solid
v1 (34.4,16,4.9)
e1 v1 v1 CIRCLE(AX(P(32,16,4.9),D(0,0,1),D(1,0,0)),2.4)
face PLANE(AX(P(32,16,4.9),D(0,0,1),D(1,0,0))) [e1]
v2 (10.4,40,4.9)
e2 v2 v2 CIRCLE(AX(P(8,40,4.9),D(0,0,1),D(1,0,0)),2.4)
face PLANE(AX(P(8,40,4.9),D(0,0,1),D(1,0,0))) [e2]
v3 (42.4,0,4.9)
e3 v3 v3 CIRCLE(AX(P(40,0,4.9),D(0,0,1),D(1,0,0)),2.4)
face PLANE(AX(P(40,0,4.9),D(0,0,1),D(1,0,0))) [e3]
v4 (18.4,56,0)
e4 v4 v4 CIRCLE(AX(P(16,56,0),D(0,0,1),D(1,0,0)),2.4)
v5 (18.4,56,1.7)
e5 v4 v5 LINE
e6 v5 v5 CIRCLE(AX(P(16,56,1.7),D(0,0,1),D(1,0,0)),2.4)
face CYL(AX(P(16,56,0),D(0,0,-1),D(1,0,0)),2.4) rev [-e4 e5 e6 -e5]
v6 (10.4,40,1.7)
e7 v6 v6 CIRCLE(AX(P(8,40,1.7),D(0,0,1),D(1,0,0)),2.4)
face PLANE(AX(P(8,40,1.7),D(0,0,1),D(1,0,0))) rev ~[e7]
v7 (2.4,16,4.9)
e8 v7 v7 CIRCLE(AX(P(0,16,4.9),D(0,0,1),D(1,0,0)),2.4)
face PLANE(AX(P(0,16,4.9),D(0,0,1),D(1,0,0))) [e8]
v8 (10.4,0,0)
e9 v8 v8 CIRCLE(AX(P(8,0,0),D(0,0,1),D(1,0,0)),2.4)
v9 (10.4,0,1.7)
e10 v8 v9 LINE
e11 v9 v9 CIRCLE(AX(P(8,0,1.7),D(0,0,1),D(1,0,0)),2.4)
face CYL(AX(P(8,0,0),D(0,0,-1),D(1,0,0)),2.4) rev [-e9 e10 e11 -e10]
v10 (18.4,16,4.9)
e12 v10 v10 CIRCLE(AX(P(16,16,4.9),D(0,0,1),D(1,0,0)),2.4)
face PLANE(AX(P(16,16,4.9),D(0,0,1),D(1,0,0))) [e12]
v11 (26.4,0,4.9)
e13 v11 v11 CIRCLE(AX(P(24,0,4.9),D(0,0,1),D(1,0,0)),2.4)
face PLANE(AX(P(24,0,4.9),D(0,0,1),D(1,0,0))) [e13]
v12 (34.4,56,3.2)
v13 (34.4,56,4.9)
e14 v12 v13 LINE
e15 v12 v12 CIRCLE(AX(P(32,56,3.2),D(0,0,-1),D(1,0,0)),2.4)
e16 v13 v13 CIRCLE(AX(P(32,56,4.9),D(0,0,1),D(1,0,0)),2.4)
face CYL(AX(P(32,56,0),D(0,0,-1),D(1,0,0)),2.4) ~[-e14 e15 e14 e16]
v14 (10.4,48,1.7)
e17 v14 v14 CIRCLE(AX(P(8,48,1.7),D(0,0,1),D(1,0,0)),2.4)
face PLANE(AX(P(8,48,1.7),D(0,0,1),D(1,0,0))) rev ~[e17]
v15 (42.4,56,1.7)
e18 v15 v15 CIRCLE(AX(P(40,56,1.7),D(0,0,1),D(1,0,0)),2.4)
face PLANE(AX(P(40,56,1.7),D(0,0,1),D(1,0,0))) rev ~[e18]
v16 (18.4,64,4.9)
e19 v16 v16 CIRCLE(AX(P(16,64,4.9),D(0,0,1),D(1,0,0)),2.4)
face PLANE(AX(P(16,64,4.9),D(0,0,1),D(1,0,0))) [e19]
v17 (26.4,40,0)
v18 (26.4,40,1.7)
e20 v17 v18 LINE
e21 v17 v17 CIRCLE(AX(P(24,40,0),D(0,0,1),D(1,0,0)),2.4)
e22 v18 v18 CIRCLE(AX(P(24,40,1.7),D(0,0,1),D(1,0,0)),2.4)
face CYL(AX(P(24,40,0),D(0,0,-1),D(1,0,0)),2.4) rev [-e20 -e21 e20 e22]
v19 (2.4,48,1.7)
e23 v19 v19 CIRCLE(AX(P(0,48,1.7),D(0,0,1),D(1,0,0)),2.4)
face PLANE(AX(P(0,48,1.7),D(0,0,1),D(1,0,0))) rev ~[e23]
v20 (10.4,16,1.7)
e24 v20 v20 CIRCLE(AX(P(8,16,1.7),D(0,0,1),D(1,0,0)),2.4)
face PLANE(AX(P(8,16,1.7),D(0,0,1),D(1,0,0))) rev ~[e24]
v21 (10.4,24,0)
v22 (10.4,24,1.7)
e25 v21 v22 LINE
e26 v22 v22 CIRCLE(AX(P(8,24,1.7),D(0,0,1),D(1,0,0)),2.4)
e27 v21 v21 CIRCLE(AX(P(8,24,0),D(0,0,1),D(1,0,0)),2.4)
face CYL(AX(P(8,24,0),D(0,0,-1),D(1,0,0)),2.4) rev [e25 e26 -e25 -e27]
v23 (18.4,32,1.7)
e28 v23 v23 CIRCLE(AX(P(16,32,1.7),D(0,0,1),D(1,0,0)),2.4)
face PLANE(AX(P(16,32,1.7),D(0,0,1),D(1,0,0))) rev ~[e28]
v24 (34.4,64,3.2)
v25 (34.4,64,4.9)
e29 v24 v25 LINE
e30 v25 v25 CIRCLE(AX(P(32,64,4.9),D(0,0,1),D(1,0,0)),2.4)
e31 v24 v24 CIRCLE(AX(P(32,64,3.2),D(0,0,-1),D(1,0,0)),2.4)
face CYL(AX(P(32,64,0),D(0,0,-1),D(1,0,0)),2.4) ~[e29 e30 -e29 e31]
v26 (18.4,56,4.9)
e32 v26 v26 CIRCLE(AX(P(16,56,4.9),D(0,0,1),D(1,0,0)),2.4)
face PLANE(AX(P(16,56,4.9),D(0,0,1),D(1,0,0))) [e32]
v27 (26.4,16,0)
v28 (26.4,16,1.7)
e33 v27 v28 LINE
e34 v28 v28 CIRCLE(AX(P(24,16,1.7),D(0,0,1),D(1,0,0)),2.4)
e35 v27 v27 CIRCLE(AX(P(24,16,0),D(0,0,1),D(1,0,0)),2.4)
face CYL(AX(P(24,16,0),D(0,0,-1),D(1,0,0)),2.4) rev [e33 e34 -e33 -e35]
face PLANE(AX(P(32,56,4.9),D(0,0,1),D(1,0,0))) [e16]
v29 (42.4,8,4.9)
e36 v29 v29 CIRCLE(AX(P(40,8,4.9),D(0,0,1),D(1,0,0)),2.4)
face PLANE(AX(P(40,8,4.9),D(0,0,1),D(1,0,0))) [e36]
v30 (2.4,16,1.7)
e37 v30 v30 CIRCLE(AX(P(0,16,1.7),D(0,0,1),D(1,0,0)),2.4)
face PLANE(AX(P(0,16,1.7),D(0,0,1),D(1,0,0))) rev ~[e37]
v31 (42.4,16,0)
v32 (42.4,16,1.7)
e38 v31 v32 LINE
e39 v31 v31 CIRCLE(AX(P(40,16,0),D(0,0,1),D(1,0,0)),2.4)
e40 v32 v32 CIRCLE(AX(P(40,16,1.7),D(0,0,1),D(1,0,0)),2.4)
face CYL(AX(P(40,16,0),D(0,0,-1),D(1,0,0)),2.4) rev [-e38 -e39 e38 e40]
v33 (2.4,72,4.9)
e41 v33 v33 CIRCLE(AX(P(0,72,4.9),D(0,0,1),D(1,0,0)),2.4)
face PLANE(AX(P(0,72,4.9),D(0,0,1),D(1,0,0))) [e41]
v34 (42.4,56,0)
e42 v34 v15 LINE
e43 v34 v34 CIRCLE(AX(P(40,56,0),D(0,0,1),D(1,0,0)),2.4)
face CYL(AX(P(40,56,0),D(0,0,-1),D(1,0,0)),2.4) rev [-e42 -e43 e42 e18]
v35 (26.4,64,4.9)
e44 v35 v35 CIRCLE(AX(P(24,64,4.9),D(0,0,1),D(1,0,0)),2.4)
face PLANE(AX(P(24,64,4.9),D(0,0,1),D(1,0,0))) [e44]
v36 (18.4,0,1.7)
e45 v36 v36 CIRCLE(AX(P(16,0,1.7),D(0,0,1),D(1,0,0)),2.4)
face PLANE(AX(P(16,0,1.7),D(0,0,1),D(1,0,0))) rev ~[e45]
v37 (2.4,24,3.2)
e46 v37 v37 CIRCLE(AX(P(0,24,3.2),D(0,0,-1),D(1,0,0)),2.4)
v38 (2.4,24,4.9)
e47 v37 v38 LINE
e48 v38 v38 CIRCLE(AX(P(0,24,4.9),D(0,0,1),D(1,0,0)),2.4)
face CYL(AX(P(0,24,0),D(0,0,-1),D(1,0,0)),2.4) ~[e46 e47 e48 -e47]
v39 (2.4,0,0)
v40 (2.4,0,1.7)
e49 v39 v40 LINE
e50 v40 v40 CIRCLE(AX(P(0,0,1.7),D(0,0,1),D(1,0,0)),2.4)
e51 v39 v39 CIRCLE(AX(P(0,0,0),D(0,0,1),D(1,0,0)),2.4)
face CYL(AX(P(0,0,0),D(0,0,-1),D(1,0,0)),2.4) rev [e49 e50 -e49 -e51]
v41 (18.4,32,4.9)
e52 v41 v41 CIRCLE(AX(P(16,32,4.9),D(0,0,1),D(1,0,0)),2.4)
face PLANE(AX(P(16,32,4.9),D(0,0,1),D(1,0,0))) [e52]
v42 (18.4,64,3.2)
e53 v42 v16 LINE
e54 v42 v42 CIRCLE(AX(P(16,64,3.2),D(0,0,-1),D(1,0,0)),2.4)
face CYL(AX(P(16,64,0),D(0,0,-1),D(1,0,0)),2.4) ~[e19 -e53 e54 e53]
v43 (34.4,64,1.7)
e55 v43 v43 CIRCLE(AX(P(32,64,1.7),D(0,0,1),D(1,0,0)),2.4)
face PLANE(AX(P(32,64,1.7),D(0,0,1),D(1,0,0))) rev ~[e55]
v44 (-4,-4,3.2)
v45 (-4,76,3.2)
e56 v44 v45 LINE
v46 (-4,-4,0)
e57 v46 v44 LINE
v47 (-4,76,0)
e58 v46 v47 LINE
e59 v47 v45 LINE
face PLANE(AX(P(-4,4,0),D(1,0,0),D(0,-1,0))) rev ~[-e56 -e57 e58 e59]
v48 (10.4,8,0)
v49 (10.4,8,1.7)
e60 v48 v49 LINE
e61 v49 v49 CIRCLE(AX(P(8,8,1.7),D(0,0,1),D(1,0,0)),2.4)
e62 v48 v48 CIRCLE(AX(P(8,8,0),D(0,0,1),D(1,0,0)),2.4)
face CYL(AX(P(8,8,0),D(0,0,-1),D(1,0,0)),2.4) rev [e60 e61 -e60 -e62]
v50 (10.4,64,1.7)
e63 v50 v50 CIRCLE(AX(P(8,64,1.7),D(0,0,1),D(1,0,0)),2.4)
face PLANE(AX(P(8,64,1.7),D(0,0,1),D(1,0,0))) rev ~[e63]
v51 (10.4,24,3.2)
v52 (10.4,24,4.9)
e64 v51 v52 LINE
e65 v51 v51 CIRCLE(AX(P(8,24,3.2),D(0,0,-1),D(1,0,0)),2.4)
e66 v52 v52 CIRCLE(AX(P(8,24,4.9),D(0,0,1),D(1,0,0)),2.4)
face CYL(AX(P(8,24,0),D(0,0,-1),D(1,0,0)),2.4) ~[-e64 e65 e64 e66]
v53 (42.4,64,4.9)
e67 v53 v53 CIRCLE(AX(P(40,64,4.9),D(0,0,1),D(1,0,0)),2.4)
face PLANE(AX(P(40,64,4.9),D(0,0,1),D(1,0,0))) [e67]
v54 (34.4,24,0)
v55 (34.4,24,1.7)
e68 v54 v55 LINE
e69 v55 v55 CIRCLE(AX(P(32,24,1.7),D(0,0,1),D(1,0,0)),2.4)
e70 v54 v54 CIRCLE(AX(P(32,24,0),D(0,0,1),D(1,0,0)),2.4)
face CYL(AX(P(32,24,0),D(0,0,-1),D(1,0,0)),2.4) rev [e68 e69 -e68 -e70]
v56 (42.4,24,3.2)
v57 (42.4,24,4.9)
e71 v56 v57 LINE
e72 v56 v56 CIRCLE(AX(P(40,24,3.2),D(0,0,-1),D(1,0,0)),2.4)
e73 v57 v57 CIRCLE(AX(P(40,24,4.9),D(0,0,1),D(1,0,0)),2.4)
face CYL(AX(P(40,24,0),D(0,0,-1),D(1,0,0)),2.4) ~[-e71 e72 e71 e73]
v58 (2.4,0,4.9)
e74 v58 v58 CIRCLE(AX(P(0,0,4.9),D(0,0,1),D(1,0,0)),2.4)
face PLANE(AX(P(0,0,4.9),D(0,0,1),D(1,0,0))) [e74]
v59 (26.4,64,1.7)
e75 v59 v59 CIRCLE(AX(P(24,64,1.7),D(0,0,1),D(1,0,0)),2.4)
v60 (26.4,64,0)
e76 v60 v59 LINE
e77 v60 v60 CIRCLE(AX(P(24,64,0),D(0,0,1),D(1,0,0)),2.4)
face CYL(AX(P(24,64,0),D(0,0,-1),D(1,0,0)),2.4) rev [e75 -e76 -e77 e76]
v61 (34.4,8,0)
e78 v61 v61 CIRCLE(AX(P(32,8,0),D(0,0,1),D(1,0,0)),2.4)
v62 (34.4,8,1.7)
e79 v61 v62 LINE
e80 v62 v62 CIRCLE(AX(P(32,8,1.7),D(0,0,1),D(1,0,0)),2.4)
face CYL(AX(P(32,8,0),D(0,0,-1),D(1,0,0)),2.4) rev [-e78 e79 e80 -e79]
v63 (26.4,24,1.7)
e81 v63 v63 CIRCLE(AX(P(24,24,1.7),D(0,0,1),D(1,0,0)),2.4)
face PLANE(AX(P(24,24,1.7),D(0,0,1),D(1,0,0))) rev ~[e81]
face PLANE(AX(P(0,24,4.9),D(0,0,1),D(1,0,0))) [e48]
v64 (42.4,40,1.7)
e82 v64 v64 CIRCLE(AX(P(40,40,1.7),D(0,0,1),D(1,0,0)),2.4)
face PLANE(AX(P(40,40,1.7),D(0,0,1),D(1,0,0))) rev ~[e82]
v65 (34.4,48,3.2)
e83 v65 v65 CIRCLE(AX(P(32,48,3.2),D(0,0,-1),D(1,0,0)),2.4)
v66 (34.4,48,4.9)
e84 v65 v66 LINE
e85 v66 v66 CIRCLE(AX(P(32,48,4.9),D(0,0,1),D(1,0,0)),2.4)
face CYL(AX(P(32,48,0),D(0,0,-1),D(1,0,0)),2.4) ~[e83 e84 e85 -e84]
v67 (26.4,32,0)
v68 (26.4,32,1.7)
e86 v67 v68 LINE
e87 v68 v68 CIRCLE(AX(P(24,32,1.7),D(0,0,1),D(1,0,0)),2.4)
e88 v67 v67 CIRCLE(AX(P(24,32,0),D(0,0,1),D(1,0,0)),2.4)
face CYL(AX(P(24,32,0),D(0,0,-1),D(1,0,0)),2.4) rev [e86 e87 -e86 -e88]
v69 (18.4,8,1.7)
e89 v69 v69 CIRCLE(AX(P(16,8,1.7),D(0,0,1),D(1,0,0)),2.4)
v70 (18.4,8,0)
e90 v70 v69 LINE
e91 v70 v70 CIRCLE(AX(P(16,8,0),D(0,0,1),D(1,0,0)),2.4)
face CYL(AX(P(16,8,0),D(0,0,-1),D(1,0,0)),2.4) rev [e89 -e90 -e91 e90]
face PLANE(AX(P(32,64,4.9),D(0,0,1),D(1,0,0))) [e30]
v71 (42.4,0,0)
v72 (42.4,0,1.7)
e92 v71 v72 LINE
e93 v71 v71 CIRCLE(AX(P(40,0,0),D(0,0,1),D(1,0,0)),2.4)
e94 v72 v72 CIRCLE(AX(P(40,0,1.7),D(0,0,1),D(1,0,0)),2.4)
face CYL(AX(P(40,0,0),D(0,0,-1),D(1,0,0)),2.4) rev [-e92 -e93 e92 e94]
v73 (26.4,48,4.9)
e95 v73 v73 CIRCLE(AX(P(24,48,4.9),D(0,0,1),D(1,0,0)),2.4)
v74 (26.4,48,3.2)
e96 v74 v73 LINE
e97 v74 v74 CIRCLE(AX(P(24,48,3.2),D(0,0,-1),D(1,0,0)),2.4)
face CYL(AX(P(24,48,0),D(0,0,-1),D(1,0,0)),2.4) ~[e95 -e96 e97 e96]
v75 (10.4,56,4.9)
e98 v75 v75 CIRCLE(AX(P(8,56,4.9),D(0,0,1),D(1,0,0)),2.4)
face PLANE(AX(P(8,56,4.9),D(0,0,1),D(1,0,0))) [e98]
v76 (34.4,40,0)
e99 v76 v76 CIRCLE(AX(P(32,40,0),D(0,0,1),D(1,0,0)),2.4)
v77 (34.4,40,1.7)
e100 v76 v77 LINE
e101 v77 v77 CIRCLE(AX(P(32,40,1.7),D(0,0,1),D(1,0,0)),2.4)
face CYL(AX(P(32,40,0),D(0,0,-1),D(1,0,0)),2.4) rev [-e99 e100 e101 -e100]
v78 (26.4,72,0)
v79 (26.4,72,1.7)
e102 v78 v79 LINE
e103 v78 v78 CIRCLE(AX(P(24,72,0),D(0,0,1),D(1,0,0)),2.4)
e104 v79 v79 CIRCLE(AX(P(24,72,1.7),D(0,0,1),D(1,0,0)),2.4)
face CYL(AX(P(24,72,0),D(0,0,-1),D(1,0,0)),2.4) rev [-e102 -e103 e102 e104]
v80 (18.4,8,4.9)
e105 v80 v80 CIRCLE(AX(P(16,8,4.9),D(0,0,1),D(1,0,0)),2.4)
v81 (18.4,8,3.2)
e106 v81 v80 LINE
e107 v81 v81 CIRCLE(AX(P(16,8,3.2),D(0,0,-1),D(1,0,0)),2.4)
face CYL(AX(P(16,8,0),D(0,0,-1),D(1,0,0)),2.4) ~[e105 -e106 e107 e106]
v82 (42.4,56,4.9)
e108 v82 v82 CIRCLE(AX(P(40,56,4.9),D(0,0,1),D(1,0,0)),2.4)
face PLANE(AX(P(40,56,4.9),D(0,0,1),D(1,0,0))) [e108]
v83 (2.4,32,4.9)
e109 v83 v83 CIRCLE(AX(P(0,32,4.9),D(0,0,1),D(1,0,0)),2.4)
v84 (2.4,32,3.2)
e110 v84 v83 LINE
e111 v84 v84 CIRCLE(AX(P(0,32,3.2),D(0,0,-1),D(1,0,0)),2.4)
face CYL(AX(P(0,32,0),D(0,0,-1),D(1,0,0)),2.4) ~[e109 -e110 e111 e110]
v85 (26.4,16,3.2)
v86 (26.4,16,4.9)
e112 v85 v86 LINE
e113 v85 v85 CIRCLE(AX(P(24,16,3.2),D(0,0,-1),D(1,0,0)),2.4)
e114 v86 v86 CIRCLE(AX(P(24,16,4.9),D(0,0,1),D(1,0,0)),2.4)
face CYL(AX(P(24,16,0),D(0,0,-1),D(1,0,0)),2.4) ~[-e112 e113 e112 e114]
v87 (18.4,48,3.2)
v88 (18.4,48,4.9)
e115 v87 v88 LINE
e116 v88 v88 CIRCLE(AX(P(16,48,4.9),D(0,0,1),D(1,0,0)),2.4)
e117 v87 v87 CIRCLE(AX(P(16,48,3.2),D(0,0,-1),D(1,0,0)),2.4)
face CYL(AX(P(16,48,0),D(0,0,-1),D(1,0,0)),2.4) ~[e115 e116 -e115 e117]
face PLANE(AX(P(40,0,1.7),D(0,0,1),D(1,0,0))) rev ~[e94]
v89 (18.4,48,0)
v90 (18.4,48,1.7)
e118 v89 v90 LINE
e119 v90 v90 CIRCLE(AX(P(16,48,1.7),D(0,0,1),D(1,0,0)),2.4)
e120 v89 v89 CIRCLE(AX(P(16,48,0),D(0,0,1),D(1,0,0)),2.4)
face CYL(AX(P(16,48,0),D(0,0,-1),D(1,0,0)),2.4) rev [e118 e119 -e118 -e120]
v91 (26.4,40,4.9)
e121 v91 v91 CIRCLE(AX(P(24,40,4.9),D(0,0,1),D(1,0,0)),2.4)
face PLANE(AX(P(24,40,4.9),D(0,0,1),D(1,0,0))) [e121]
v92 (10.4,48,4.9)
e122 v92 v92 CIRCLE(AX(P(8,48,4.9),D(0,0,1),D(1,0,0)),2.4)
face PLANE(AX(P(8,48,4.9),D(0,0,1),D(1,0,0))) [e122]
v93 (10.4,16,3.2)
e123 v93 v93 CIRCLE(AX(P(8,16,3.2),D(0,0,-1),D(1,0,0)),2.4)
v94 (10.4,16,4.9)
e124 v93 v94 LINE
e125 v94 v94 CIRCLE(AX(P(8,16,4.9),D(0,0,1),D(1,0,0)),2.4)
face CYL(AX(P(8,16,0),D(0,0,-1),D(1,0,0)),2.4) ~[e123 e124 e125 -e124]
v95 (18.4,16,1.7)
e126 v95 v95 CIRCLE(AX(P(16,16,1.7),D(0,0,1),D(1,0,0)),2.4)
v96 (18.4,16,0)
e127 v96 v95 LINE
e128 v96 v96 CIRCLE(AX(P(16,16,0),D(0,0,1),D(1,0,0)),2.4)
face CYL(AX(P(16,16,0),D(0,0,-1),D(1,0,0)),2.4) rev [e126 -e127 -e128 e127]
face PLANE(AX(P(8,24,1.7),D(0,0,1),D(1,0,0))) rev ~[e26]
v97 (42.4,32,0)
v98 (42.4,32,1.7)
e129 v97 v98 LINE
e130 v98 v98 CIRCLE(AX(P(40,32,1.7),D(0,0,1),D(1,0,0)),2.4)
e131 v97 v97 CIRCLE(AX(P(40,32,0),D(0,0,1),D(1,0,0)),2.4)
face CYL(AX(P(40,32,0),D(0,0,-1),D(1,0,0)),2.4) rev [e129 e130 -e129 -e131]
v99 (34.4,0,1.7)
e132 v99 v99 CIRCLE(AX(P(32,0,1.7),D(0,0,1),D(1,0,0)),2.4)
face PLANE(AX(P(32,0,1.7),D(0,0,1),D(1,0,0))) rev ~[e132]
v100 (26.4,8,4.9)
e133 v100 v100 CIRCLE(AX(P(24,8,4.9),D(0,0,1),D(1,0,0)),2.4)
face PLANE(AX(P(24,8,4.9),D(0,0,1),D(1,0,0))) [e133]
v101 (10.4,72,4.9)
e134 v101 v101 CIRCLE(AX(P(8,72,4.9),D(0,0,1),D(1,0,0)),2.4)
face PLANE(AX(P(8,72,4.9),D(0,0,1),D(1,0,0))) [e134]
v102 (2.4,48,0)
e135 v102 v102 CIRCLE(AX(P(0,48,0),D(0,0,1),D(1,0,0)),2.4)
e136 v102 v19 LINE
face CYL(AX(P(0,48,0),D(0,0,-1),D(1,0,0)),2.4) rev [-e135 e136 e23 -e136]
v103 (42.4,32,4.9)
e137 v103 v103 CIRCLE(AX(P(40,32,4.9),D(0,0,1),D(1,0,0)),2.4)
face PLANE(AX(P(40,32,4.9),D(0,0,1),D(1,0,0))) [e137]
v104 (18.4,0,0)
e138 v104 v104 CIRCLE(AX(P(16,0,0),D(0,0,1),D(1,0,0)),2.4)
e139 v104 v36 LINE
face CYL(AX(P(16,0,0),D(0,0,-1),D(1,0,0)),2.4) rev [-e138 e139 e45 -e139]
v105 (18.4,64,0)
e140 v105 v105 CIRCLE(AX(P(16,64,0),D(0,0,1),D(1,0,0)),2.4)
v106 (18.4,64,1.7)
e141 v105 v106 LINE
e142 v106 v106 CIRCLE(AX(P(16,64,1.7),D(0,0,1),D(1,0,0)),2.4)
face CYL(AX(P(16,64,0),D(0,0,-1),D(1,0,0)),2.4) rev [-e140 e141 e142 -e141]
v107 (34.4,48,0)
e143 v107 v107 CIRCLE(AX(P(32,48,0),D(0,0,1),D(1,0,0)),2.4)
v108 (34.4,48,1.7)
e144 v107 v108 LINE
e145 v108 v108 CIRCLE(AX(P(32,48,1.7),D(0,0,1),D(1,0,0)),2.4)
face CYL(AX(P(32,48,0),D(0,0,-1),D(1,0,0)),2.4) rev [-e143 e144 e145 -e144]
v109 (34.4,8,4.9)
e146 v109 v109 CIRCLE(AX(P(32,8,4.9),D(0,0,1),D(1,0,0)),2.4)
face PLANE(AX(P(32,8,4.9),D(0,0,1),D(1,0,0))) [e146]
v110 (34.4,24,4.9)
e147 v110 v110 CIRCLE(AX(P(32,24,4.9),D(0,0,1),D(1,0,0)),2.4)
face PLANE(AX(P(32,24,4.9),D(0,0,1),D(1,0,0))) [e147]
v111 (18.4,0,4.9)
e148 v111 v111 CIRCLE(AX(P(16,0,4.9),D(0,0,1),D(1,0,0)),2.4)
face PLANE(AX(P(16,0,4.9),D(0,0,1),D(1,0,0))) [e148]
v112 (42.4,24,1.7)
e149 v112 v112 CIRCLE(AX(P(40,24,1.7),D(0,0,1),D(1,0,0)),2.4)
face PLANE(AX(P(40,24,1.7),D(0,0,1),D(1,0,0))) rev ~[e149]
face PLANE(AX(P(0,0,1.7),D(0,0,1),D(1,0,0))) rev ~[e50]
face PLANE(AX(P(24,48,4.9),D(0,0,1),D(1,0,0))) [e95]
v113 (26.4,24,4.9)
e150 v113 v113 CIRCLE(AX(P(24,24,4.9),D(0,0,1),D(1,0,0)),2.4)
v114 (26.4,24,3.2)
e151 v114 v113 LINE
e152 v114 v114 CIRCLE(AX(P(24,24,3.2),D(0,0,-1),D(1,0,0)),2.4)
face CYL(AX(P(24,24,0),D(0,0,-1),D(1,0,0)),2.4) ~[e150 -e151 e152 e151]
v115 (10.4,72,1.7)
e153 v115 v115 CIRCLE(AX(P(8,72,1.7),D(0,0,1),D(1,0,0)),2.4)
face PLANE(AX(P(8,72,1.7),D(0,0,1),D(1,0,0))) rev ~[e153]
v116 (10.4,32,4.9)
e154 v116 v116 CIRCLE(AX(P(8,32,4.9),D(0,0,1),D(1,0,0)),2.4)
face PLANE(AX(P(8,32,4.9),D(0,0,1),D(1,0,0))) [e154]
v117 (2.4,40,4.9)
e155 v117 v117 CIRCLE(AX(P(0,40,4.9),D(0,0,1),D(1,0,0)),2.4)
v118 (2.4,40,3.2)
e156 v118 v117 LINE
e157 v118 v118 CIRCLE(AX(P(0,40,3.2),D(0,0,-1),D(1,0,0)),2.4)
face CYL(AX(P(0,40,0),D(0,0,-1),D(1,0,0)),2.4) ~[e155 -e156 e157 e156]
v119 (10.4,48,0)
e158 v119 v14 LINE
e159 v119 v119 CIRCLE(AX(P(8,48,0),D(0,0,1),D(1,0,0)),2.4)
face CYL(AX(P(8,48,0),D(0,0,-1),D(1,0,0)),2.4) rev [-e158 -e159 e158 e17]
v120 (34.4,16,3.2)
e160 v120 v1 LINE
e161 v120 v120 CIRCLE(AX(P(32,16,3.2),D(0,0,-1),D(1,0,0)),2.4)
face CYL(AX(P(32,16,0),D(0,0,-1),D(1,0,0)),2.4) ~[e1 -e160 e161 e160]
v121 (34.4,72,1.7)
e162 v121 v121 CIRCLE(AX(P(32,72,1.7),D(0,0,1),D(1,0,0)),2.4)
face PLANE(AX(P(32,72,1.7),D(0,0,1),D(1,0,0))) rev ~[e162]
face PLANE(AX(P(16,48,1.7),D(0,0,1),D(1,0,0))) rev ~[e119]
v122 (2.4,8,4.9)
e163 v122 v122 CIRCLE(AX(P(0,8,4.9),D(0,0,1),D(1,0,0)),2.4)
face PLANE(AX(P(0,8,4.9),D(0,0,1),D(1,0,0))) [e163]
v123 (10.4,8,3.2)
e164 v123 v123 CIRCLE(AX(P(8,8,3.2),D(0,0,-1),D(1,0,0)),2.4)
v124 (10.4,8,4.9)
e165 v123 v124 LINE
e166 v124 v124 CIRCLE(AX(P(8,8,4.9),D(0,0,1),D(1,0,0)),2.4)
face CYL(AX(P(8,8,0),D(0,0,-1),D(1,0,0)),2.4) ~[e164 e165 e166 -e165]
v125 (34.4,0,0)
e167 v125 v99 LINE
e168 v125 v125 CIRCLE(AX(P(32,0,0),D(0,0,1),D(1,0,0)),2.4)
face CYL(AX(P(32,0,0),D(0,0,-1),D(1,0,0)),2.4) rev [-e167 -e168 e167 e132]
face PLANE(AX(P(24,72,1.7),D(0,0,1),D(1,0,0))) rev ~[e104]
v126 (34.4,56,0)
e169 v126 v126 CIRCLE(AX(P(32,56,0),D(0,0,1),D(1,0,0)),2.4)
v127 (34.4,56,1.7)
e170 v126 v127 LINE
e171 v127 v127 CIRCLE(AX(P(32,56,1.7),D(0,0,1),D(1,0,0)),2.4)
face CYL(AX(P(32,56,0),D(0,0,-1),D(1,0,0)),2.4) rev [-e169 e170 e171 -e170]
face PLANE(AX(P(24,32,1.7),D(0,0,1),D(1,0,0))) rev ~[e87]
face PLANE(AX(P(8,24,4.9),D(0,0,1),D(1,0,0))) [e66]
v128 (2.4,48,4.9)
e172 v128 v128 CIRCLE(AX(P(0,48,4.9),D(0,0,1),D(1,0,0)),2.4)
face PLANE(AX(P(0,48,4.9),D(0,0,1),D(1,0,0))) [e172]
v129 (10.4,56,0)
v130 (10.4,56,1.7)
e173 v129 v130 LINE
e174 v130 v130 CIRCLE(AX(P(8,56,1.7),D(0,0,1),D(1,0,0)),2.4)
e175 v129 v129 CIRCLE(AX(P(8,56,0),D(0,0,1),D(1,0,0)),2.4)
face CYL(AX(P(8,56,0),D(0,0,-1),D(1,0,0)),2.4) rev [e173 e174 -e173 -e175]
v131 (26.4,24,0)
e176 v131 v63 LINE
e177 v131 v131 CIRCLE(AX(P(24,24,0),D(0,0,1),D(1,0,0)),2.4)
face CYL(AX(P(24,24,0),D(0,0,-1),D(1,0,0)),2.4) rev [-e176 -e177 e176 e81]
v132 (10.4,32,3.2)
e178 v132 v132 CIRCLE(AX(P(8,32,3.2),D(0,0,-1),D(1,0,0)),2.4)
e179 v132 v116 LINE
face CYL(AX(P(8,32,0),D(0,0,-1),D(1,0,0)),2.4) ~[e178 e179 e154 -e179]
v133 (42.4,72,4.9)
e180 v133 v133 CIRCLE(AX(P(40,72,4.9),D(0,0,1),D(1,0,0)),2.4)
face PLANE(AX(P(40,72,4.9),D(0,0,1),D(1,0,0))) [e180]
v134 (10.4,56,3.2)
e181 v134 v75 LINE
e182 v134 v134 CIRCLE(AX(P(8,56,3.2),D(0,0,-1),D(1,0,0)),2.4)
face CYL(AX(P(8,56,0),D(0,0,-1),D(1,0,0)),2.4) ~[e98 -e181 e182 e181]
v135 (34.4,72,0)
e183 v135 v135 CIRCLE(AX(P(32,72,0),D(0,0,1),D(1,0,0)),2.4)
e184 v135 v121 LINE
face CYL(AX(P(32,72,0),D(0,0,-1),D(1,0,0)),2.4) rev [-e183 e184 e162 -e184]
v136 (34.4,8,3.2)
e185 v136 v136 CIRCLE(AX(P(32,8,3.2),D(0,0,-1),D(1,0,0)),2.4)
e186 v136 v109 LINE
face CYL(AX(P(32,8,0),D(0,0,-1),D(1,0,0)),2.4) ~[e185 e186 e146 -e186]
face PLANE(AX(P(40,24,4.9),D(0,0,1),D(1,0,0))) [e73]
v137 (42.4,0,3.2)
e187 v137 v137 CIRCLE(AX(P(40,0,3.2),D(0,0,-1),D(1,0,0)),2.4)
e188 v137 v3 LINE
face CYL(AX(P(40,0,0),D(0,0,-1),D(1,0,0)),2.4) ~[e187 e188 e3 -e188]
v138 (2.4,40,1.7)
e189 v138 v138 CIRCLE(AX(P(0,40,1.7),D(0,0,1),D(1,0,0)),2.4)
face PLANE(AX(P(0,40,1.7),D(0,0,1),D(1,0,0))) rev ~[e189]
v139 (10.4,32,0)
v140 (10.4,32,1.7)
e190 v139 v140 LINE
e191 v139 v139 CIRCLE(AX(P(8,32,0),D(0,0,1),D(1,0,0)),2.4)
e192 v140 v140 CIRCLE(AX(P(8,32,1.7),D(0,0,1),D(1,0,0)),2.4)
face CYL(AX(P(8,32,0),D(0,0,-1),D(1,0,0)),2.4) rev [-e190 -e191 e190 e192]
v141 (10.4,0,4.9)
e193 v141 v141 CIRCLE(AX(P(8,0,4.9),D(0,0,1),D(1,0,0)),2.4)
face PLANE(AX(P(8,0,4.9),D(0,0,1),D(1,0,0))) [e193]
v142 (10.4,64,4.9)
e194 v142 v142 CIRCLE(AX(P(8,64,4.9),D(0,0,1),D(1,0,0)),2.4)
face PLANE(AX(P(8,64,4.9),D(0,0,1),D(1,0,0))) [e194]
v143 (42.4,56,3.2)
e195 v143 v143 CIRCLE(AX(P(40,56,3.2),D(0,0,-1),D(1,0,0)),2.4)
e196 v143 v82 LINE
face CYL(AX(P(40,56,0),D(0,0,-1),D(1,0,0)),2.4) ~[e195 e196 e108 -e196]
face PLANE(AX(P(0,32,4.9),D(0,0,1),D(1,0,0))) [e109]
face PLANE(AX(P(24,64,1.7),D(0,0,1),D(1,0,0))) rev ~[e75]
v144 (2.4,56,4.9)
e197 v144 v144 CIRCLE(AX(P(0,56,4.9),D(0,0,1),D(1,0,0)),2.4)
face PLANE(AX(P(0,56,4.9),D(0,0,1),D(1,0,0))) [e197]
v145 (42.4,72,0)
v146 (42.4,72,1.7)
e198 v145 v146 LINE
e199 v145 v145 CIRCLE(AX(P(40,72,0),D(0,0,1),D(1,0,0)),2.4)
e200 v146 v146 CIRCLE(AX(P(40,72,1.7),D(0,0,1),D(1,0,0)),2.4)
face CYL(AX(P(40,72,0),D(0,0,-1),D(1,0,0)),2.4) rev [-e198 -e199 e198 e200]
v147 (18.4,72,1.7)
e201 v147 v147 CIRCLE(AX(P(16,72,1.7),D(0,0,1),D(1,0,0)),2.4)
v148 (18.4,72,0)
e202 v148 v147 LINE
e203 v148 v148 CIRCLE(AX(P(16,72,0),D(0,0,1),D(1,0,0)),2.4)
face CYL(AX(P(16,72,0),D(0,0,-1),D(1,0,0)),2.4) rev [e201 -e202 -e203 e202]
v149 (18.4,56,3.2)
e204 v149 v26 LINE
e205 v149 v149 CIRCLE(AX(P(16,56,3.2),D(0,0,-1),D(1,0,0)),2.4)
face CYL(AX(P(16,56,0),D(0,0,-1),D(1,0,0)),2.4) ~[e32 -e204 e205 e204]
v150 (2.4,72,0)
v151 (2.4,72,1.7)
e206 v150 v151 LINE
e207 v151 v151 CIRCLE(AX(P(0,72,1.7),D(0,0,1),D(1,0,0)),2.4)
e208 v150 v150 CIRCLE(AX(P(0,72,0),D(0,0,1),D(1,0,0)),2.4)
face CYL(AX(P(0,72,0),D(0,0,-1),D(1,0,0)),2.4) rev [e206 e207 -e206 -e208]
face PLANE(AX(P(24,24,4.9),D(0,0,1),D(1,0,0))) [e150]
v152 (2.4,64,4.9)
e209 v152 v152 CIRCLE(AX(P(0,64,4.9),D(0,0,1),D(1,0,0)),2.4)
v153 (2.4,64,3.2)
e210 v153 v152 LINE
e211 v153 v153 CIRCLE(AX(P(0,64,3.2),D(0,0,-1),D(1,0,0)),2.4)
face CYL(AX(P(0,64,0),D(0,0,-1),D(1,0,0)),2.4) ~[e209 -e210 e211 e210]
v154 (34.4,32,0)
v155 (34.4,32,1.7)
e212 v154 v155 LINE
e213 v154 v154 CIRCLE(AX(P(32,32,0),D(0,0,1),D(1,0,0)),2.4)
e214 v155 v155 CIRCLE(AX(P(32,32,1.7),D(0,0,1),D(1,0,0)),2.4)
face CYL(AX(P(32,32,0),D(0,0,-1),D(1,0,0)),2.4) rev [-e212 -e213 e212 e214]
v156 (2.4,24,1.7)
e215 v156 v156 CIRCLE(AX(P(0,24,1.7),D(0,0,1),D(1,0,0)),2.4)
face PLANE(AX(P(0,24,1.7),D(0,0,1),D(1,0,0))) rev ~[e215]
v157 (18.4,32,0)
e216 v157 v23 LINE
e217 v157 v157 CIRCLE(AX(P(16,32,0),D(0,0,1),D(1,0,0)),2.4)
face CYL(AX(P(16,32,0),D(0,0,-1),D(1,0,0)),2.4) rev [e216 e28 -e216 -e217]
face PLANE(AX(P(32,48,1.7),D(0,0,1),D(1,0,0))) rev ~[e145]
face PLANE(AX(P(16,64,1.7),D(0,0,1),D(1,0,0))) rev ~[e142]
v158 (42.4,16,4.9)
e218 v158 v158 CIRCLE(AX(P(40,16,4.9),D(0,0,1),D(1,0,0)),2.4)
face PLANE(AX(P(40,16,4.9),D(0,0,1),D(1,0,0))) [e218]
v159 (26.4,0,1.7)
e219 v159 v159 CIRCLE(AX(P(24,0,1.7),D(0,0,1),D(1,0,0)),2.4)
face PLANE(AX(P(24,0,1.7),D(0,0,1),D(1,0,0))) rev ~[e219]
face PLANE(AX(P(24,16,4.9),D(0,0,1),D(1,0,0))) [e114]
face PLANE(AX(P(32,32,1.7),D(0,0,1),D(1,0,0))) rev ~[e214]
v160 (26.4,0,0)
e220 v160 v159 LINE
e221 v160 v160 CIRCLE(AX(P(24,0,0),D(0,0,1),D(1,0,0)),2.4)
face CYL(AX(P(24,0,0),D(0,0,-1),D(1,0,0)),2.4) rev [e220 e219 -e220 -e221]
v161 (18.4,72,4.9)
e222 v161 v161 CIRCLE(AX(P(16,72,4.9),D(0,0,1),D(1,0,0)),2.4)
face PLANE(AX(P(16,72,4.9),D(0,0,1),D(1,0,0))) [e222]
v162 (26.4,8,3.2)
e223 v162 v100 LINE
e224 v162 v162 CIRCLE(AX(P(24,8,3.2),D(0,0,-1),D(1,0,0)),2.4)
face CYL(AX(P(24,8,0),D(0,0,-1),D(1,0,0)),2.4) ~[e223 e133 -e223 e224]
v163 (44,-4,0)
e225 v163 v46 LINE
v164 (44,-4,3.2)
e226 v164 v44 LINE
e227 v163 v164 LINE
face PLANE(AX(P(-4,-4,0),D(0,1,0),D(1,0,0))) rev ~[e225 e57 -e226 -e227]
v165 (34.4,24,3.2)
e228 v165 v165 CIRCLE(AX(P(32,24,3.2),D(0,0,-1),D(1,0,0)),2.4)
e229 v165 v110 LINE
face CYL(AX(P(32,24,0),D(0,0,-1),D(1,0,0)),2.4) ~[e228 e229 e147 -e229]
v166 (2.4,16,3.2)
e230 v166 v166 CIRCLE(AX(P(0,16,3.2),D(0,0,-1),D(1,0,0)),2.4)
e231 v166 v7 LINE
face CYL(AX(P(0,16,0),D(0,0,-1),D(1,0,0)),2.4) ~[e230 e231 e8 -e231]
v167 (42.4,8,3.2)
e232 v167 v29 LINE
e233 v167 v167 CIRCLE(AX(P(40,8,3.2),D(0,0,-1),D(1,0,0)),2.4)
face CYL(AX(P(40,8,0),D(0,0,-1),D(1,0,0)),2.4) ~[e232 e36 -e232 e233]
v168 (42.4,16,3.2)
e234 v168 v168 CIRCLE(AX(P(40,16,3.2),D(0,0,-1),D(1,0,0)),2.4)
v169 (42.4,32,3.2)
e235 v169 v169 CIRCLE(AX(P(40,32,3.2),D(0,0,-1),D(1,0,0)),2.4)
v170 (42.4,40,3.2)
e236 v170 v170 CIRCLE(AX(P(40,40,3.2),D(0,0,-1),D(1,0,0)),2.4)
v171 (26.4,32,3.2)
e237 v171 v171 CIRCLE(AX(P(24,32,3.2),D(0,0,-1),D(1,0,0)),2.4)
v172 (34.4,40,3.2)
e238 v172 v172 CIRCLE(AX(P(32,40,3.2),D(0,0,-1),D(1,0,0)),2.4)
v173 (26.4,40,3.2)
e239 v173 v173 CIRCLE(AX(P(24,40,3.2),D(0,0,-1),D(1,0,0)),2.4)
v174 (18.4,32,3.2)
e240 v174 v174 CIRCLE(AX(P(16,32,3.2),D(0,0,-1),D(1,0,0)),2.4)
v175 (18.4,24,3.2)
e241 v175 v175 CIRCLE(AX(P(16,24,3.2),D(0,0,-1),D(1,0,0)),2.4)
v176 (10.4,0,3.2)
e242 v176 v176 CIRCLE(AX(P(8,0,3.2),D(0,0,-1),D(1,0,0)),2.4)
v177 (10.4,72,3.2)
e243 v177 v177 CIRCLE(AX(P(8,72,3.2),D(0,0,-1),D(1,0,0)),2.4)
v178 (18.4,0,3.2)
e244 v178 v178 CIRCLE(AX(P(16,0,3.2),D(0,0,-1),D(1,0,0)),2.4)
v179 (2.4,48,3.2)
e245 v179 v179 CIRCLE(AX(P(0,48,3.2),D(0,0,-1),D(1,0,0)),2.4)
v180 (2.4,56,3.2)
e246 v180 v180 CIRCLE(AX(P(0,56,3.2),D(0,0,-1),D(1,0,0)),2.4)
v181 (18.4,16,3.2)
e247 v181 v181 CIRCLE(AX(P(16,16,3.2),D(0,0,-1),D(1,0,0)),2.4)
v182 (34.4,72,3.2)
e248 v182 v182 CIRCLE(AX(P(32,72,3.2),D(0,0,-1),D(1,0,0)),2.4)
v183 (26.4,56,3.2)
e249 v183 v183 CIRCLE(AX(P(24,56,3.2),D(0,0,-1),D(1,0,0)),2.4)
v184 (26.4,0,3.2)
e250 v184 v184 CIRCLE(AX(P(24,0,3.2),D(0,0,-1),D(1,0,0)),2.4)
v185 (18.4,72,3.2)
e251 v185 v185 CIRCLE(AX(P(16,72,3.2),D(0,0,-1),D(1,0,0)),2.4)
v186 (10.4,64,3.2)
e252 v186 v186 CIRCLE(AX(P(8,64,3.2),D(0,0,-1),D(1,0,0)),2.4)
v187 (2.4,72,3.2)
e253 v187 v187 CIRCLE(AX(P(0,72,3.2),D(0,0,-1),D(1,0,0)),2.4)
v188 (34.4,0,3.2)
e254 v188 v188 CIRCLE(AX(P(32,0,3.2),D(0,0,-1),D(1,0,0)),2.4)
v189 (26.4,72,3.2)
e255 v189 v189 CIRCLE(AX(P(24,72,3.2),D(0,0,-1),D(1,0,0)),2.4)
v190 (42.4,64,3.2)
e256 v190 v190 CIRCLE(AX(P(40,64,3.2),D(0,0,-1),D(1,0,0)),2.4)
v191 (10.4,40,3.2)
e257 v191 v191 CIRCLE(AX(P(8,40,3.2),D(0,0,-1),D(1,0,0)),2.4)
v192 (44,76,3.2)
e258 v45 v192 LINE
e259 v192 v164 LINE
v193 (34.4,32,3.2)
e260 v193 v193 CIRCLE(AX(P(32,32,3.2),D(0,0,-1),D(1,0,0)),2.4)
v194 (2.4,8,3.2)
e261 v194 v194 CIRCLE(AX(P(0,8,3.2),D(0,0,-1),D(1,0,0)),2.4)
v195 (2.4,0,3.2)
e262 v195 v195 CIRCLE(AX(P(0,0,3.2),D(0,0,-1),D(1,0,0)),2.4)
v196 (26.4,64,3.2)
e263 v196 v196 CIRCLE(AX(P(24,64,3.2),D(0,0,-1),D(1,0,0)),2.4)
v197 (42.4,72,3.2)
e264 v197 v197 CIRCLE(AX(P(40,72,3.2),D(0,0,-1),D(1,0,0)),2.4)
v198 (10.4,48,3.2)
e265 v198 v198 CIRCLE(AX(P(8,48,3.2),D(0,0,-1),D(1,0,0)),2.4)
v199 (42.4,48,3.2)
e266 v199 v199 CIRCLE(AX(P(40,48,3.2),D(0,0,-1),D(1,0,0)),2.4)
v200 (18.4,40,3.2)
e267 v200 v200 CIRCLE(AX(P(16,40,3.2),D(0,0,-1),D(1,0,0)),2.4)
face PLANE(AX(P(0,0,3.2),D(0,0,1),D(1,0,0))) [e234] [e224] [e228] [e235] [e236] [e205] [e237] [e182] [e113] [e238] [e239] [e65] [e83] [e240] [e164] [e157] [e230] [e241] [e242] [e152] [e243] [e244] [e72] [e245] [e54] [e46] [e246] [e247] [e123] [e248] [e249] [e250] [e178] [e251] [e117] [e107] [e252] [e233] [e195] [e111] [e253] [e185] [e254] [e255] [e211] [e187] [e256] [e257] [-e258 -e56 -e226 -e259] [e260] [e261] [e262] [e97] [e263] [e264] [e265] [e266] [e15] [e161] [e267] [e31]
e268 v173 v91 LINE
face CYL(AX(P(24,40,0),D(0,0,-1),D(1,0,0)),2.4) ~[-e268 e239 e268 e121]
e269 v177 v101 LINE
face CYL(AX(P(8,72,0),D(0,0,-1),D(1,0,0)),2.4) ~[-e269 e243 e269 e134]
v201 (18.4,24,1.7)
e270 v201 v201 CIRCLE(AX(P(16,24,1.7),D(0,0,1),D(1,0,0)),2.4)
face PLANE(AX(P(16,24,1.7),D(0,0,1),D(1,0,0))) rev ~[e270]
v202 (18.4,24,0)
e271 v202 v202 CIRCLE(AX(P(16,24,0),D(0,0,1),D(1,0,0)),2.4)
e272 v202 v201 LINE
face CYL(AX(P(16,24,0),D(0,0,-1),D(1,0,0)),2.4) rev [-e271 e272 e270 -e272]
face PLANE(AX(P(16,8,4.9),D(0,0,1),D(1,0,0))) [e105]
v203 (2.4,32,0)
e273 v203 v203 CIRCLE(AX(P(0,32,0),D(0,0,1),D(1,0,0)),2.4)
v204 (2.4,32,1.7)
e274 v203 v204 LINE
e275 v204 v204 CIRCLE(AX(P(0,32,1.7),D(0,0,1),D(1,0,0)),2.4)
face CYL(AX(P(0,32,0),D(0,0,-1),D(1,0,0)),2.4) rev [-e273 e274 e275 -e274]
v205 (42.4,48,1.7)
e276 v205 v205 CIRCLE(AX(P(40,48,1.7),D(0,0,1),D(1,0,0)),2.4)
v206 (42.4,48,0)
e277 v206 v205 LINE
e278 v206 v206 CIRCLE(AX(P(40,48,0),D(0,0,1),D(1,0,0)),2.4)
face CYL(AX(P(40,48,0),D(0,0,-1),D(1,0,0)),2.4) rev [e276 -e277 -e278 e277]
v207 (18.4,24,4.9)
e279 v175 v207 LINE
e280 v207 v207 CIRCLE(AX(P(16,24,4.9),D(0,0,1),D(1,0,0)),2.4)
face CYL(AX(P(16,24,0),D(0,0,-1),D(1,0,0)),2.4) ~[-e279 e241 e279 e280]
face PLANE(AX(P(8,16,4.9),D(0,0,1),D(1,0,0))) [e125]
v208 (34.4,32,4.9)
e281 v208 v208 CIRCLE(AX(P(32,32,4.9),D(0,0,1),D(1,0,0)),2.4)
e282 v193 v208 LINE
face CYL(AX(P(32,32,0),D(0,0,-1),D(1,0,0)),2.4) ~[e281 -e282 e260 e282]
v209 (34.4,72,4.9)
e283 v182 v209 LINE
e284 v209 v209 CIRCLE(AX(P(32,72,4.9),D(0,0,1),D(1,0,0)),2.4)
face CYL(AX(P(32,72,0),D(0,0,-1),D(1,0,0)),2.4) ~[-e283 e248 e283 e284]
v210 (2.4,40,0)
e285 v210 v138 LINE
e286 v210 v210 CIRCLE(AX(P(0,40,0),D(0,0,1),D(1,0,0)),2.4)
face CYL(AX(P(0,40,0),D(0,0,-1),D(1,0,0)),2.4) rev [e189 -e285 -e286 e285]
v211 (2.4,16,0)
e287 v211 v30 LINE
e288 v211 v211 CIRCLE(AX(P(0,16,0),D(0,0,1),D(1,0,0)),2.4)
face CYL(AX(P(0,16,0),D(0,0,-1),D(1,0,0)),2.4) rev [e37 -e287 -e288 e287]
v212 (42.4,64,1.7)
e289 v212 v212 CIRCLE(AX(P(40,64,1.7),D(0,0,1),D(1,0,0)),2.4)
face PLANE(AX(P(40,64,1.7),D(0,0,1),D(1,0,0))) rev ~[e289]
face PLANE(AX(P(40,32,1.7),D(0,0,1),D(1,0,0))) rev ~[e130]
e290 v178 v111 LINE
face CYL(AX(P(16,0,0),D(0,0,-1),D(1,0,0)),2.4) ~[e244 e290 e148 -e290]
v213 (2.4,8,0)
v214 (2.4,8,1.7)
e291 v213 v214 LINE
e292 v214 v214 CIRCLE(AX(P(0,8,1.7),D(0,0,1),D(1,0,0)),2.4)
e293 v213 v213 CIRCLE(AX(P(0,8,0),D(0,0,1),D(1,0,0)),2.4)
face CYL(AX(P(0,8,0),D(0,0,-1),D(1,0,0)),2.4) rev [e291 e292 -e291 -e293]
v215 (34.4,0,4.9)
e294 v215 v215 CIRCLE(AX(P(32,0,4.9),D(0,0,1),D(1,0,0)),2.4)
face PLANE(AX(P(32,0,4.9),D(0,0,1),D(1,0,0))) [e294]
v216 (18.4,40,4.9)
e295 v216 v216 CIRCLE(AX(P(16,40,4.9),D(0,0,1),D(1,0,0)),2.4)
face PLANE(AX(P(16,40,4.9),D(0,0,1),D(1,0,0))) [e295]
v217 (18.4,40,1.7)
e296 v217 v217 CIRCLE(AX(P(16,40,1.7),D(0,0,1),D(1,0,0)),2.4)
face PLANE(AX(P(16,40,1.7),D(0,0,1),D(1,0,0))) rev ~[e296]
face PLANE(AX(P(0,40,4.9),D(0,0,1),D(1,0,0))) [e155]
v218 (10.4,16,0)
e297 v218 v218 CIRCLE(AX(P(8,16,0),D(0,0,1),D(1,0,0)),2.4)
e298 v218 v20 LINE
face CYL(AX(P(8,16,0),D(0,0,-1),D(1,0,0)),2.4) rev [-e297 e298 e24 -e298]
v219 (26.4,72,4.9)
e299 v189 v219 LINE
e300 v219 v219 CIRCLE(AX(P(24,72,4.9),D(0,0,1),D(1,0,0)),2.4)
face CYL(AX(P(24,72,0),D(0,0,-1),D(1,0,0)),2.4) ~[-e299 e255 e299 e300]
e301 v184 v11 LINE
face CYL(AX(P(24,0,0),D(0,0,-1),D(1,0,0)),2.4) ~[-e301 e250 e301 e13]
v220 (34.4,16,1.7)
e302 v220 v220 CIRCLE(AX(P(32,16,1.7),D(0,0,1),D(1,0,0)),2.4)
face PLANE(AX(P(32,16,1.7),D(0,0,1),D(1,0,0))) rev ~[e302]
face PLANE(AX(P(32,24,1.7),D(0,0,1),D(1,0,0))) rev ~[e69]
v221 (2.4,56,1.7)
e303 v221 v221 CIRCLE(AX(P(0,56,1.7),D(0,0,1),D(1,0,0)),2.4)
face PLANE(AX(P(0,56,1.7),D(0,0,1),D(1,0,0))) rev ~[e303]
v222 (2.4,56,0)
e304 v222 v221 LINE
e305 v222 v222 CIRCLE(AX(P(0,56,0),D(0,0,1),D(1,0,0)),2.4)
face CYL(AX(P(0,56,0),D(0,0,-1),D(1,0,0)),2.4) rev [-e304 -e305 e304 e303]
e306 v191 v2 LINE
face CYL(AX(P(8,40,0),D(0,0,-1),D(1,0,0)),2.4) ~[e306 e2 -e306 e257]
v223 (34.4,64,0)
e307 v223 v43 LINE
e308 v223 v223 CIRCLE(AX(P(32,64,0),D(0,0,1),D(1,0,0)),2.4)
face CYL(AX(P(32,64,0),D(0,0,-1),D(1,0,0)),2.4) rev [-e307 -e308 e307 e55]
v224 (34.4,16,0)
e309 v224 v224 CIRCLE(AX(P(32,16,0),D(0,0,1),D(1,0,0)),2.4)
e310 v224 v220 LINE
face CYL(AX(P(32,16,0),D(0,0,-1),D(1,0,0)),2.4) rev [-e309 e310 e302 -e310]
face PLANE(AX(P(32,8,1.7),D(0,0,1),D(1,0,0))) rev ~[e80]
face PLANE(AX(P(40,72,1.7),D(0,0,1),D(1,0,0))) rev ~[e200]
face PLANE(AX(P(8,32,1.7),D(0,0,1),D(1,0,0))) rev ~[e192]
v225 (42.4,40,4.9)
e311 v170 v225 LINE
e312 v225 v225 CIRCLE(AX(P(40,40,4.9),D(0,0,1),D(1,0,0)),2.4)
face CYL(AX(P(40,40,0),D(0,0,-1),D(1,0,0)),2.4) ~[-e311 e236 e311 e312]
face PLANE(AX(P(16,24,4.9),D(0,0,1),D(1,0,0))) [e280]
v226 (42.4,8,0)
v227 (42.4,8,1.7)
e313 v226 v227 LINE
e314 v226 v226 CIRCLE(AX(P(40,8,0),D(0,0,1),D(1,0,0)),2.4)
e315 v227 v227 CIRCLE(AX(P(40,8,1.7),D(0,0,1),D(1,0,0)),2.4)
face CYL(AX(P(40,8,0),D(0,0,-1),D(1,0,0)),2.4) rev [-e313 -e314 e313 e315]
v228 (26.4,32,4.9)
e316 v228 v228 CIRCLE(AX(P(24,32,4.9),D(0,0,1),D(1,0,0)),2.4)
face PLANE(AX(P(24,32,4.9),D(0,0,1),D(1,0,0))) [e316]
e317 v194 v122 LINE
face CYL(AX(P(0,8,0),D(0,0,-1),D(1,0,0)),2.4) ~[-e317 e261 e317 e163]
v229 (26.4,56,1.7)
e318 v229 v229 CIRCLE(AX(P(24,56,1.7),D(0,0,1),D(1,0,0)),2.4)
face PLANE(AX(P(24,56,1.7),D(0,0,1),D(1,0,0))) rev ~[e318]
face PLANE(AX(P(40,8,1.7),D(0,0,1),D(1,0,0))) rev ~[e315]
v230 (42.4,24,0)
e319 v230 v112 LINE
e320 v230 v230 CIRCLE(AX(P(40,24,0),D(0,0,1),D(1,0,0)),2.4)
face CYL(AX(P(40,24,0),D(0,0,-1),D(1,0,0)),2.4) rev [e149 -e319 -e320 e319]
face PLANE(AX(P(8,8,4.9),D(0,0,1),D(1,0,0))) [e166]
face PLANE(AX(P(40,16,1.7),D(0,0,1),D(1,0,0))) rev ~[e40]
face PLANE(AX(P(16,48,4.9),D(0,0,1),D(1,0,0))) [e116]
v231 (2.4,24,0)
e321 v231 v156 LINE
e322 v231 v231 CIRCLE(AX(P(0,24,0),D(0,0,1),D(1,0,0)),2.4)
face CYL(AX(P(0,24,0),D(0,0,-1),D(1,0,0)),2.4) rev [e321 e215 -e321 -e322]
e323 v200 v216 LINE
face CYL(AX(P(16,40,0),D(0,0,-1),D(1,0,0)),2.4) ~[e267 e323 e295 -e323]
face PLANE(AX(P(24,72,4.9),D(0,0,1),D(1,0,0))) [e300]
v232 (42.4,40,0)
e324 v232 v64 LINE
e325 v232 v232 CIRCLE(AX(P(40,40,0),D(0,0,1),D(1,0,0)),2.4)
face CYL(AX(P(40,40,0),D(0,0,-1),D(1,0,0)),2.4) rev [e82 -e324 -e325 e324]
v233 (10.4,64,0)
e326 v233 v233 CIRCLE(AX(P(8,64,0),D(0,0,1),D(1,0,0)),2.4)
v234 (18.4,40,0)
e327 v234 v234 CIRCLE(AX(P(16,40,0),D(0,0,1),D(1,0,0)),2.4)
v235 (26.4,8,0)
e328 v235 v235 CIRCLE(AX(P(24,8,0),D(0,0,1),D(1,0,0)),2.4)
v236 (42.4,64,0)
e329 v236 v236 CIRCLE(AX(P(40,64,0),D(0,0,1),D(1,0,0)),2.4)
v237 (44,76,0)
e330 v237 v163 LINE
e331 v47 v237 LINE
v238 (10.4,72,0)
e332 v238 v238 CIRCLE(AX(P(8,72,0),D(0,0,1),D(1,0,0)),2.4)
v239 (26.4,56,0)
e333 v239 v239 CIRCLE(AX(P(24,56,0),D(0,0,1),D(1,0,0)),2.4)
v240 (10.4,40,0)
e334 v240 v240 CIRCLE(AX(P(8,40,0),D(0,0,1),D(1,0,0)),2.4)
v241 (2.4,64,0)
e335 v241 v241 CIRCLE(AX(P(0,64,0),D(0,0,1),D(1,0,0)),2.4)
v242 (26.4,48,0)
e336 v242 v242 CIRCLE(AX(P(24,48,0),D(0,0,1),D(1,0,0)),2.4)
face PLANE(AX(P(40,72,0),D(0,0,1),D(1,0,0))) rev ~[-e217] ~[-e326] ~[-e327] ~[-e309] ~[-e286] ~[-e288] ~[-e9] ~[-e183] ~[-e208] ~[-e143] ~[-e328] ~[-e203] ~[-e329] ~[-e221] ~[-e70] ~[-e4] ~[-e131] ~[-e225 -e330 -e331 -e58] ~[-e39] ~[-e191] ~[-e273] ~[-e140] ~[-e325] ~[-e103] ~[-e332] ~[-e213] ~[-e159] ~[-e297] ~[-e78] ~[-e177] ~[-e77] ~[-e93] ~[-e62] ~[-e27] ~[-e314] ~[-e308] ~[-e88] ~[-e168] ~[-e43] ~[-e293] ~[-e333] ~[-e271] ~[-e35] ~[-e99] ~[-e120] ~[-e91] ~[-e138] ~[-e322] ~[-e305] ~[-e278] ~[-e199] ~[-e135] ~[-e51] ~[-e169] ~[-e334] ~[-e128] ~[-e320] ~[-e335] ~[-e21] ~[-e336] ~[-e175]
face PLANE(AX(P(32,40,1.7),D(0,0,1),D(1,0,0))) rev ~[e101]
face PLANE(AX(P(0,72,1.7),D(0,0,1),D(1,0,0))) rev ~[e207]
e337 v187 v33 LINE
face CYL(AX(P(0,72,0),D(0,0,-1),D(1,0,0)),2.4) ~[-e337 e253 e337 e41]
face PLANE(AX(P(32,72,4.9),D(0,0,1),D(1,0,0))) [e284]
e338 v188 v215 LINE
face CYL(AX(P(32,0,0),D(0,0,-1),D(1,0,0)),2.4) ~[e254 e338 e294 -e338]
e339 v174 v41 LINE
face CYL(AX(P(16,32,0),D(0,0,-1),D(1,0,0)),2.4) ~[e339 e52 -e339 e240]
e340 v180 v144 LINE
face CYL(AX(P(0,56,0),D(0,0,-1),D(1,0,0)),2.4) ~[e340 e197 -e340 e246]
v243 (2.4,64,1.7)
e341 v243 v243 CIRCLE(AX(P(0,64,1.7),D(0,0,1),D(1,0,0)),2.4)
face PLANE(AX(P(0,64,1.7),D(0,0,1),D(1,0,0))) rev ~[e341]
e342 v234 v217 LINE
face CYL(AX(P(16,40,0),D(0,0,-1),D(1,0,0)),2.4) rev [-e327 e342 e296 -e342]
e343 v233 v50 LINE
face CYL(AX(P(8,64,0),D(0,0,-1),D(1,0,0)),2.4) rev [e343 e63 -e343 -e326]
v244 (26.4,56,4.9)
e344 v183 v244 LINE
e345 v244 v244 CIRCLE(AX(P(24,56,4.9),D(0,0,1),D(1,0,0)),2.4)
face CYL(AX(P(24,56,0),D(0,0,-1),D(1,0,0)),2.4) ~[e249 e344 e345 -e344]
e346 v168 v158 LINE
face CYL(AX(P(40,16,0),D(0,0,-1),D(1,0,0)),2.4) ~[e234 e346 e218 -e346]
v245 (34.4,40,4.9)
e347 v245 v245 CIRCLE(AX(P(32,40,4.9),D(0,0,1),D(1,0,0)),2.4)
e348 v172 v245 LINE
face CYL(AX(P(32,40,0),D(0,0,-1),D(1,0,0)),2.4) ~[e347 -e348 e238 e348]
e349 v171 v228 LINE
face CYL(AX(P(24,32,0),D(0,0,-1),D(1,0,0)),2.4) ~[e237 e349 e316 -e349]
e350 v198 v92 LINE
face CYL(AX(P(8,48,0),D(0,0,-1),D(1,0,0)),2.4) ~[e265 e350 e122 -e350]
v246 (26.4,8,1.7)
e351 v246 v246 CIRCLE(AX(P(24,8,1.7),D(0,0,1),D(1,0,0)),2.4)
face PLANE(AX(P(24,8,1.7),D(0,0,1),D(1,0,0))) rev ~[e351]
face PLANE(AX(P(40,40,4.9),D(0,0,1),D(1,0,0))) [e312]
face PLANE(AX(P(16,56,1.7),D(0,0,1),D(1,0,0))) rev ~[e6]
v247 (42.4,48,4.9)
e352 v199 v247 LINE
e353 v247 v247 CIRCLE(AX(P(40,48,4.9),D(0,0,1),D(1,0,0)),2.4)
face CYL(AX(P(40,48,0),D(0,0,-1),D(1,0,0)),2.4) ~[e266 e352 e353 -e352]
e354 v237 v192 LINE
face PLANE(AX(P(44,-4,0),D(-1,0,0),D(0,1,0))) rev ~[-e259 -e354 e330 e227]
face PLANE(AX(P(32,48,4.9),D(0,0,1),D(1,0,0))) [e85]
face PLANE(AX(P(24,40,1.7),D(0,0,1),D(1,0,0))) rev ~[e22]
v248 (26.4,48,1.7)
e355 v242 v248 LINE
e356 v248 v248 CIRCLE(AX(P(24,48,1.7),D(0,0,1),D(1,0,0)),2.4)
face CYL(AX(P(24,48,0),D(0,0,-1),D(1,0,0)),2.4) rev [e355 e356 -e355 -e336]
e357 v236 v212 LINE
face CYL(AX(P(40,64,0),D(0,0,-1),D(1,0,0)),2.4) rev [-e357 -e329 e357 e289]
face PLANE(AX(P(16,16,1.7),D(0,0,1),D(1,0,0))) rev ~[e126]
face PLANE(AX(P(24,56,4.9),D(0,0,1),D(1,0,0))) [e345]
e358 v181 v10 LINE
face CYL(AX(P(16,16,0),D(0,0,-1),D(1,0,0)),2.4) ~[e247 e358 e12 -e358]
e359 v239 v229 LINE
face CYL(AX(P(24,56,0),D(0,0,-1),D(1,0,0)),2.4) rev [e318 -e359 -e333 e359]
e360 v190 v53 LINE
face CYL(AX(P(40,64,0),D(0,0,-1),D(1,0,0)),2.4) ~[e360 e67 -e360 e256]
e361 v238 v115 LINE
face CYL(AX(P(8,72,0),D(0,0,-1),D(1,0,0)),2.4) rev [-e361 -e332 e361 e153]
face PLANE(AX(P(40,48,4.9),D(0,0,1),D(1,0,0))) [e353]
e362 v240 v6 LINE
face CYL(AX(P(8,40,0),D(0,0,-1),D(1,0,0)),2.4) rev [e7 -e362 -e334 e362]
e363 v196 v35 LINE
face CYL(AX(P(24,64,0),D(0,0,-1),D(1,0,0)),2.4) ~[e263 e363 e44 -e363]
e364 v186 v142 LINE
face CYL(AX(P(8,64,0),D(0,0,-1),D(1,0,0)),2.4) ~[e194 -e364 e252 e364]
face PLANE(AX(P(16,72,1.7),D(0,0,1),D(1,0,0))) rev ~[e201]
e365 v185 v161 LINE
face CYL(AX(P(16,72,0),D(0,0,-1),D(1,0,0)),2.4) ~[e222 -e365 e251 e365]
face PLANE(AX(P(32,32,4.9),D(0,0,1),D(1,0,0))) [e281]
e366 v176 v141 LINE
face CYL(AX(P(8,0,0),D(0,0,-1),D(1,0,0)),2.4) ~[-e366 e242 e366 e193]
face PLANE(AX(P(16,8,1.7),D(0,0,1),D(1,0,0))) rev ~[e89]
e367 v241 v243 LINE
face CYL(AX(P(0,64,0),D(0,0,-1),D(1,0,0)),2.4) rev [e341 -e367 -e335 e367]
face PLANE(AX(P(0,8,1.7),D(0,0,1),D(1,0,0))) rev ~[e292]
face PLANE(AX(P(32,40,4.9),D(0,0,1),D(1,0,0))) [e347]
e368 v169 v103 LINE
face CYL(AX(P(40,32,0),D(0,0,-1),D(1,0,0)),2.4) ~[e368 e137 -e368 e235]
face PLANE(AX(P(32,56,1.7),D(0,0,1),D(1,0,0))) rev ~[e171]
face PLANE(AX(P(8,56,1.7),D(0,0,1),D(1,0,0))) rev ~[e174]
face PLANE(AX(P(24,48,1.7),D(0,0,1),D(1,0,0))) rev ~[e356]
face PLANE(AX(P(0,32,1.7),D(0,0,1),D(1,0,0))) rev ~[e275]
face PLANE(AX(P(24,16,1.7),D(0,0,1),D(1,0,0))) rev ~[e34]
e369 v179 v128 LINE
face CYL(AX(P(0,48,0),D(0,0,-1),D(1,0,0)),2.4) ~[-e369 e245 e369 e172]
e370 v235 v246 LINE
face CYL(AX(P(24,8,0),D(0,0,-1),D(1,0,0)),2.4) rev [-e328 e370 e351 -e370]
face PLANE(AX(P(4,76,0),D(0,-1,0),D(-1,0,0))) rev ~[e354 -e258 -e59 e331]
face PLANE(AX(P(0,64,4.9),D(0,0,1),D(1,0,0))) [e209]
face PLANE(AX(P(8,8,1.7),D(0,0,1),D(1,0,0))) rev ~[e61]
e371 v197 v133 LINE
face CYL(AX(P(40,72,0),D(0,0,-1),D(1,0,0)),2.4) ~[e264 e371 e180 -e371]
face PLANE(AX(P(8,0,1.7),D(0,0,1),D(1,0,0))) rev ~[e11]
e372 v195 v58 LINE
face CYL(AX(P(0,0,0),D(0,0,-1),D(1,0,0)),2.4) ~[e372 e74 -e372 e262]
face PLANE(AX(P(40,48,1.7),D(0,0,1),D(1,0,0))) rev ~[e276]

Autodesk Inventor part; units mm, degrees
ref_plane "YZ Plane" through (0, 0, 0) normal (1, 0, 0) x (0, 1, 0)
ref_plane "XZ Plane" through (0, 0, 0) normal (0, 1, 0) x (-1, 0, 0)
ref_plane "XY Plane" through (0, 0, 0) normal (0, 0, 1) x (1, 0, 0)
sketch "Sketch1" plane through (0, 0, 0) normal (0, 0, 1) x (1, 0, 0)
  line L0 (-4, -4) -> (4, -4)
  line L1 (4, -4) -> (4, 4)
  line L2 (4, 4) -> (-4, 4)
  line L3 (-4, 4) -> (-4, -4)
  line L4 (-4, -4) -> (4, 4) construction
  line L5 (4, -4) -> (-4, 4) construction
  circle A0 centre (0, 0) radius 2.4
  dimension "d0" = 8
  dimension "d1" = 8
  dimension "d2" = 4.8
extrude "Extrusion1" add sketch "Sketch1" along normal blind 3.2 contours L3 L2 L1 L0 | A0
extrude "Extrusion2" add sketch "Sketch1" along normal blind 4.9 contours A0
extrude "Extrusion3" cut sketch "Sketch1" along normal blind 1.7 contours A0
pattern_linear "Rectangular Pattern1" count 10 spacing 8 along (0, 1, 0) count 6 spacing 8 along (1, 0, 0) of "Extrusion1", "Extrusion2", "Extrusion3"
equation "\"d11\" = d0"
equation "\"d24\" = d0"
properties part number "LEGO Plate 6x10"
